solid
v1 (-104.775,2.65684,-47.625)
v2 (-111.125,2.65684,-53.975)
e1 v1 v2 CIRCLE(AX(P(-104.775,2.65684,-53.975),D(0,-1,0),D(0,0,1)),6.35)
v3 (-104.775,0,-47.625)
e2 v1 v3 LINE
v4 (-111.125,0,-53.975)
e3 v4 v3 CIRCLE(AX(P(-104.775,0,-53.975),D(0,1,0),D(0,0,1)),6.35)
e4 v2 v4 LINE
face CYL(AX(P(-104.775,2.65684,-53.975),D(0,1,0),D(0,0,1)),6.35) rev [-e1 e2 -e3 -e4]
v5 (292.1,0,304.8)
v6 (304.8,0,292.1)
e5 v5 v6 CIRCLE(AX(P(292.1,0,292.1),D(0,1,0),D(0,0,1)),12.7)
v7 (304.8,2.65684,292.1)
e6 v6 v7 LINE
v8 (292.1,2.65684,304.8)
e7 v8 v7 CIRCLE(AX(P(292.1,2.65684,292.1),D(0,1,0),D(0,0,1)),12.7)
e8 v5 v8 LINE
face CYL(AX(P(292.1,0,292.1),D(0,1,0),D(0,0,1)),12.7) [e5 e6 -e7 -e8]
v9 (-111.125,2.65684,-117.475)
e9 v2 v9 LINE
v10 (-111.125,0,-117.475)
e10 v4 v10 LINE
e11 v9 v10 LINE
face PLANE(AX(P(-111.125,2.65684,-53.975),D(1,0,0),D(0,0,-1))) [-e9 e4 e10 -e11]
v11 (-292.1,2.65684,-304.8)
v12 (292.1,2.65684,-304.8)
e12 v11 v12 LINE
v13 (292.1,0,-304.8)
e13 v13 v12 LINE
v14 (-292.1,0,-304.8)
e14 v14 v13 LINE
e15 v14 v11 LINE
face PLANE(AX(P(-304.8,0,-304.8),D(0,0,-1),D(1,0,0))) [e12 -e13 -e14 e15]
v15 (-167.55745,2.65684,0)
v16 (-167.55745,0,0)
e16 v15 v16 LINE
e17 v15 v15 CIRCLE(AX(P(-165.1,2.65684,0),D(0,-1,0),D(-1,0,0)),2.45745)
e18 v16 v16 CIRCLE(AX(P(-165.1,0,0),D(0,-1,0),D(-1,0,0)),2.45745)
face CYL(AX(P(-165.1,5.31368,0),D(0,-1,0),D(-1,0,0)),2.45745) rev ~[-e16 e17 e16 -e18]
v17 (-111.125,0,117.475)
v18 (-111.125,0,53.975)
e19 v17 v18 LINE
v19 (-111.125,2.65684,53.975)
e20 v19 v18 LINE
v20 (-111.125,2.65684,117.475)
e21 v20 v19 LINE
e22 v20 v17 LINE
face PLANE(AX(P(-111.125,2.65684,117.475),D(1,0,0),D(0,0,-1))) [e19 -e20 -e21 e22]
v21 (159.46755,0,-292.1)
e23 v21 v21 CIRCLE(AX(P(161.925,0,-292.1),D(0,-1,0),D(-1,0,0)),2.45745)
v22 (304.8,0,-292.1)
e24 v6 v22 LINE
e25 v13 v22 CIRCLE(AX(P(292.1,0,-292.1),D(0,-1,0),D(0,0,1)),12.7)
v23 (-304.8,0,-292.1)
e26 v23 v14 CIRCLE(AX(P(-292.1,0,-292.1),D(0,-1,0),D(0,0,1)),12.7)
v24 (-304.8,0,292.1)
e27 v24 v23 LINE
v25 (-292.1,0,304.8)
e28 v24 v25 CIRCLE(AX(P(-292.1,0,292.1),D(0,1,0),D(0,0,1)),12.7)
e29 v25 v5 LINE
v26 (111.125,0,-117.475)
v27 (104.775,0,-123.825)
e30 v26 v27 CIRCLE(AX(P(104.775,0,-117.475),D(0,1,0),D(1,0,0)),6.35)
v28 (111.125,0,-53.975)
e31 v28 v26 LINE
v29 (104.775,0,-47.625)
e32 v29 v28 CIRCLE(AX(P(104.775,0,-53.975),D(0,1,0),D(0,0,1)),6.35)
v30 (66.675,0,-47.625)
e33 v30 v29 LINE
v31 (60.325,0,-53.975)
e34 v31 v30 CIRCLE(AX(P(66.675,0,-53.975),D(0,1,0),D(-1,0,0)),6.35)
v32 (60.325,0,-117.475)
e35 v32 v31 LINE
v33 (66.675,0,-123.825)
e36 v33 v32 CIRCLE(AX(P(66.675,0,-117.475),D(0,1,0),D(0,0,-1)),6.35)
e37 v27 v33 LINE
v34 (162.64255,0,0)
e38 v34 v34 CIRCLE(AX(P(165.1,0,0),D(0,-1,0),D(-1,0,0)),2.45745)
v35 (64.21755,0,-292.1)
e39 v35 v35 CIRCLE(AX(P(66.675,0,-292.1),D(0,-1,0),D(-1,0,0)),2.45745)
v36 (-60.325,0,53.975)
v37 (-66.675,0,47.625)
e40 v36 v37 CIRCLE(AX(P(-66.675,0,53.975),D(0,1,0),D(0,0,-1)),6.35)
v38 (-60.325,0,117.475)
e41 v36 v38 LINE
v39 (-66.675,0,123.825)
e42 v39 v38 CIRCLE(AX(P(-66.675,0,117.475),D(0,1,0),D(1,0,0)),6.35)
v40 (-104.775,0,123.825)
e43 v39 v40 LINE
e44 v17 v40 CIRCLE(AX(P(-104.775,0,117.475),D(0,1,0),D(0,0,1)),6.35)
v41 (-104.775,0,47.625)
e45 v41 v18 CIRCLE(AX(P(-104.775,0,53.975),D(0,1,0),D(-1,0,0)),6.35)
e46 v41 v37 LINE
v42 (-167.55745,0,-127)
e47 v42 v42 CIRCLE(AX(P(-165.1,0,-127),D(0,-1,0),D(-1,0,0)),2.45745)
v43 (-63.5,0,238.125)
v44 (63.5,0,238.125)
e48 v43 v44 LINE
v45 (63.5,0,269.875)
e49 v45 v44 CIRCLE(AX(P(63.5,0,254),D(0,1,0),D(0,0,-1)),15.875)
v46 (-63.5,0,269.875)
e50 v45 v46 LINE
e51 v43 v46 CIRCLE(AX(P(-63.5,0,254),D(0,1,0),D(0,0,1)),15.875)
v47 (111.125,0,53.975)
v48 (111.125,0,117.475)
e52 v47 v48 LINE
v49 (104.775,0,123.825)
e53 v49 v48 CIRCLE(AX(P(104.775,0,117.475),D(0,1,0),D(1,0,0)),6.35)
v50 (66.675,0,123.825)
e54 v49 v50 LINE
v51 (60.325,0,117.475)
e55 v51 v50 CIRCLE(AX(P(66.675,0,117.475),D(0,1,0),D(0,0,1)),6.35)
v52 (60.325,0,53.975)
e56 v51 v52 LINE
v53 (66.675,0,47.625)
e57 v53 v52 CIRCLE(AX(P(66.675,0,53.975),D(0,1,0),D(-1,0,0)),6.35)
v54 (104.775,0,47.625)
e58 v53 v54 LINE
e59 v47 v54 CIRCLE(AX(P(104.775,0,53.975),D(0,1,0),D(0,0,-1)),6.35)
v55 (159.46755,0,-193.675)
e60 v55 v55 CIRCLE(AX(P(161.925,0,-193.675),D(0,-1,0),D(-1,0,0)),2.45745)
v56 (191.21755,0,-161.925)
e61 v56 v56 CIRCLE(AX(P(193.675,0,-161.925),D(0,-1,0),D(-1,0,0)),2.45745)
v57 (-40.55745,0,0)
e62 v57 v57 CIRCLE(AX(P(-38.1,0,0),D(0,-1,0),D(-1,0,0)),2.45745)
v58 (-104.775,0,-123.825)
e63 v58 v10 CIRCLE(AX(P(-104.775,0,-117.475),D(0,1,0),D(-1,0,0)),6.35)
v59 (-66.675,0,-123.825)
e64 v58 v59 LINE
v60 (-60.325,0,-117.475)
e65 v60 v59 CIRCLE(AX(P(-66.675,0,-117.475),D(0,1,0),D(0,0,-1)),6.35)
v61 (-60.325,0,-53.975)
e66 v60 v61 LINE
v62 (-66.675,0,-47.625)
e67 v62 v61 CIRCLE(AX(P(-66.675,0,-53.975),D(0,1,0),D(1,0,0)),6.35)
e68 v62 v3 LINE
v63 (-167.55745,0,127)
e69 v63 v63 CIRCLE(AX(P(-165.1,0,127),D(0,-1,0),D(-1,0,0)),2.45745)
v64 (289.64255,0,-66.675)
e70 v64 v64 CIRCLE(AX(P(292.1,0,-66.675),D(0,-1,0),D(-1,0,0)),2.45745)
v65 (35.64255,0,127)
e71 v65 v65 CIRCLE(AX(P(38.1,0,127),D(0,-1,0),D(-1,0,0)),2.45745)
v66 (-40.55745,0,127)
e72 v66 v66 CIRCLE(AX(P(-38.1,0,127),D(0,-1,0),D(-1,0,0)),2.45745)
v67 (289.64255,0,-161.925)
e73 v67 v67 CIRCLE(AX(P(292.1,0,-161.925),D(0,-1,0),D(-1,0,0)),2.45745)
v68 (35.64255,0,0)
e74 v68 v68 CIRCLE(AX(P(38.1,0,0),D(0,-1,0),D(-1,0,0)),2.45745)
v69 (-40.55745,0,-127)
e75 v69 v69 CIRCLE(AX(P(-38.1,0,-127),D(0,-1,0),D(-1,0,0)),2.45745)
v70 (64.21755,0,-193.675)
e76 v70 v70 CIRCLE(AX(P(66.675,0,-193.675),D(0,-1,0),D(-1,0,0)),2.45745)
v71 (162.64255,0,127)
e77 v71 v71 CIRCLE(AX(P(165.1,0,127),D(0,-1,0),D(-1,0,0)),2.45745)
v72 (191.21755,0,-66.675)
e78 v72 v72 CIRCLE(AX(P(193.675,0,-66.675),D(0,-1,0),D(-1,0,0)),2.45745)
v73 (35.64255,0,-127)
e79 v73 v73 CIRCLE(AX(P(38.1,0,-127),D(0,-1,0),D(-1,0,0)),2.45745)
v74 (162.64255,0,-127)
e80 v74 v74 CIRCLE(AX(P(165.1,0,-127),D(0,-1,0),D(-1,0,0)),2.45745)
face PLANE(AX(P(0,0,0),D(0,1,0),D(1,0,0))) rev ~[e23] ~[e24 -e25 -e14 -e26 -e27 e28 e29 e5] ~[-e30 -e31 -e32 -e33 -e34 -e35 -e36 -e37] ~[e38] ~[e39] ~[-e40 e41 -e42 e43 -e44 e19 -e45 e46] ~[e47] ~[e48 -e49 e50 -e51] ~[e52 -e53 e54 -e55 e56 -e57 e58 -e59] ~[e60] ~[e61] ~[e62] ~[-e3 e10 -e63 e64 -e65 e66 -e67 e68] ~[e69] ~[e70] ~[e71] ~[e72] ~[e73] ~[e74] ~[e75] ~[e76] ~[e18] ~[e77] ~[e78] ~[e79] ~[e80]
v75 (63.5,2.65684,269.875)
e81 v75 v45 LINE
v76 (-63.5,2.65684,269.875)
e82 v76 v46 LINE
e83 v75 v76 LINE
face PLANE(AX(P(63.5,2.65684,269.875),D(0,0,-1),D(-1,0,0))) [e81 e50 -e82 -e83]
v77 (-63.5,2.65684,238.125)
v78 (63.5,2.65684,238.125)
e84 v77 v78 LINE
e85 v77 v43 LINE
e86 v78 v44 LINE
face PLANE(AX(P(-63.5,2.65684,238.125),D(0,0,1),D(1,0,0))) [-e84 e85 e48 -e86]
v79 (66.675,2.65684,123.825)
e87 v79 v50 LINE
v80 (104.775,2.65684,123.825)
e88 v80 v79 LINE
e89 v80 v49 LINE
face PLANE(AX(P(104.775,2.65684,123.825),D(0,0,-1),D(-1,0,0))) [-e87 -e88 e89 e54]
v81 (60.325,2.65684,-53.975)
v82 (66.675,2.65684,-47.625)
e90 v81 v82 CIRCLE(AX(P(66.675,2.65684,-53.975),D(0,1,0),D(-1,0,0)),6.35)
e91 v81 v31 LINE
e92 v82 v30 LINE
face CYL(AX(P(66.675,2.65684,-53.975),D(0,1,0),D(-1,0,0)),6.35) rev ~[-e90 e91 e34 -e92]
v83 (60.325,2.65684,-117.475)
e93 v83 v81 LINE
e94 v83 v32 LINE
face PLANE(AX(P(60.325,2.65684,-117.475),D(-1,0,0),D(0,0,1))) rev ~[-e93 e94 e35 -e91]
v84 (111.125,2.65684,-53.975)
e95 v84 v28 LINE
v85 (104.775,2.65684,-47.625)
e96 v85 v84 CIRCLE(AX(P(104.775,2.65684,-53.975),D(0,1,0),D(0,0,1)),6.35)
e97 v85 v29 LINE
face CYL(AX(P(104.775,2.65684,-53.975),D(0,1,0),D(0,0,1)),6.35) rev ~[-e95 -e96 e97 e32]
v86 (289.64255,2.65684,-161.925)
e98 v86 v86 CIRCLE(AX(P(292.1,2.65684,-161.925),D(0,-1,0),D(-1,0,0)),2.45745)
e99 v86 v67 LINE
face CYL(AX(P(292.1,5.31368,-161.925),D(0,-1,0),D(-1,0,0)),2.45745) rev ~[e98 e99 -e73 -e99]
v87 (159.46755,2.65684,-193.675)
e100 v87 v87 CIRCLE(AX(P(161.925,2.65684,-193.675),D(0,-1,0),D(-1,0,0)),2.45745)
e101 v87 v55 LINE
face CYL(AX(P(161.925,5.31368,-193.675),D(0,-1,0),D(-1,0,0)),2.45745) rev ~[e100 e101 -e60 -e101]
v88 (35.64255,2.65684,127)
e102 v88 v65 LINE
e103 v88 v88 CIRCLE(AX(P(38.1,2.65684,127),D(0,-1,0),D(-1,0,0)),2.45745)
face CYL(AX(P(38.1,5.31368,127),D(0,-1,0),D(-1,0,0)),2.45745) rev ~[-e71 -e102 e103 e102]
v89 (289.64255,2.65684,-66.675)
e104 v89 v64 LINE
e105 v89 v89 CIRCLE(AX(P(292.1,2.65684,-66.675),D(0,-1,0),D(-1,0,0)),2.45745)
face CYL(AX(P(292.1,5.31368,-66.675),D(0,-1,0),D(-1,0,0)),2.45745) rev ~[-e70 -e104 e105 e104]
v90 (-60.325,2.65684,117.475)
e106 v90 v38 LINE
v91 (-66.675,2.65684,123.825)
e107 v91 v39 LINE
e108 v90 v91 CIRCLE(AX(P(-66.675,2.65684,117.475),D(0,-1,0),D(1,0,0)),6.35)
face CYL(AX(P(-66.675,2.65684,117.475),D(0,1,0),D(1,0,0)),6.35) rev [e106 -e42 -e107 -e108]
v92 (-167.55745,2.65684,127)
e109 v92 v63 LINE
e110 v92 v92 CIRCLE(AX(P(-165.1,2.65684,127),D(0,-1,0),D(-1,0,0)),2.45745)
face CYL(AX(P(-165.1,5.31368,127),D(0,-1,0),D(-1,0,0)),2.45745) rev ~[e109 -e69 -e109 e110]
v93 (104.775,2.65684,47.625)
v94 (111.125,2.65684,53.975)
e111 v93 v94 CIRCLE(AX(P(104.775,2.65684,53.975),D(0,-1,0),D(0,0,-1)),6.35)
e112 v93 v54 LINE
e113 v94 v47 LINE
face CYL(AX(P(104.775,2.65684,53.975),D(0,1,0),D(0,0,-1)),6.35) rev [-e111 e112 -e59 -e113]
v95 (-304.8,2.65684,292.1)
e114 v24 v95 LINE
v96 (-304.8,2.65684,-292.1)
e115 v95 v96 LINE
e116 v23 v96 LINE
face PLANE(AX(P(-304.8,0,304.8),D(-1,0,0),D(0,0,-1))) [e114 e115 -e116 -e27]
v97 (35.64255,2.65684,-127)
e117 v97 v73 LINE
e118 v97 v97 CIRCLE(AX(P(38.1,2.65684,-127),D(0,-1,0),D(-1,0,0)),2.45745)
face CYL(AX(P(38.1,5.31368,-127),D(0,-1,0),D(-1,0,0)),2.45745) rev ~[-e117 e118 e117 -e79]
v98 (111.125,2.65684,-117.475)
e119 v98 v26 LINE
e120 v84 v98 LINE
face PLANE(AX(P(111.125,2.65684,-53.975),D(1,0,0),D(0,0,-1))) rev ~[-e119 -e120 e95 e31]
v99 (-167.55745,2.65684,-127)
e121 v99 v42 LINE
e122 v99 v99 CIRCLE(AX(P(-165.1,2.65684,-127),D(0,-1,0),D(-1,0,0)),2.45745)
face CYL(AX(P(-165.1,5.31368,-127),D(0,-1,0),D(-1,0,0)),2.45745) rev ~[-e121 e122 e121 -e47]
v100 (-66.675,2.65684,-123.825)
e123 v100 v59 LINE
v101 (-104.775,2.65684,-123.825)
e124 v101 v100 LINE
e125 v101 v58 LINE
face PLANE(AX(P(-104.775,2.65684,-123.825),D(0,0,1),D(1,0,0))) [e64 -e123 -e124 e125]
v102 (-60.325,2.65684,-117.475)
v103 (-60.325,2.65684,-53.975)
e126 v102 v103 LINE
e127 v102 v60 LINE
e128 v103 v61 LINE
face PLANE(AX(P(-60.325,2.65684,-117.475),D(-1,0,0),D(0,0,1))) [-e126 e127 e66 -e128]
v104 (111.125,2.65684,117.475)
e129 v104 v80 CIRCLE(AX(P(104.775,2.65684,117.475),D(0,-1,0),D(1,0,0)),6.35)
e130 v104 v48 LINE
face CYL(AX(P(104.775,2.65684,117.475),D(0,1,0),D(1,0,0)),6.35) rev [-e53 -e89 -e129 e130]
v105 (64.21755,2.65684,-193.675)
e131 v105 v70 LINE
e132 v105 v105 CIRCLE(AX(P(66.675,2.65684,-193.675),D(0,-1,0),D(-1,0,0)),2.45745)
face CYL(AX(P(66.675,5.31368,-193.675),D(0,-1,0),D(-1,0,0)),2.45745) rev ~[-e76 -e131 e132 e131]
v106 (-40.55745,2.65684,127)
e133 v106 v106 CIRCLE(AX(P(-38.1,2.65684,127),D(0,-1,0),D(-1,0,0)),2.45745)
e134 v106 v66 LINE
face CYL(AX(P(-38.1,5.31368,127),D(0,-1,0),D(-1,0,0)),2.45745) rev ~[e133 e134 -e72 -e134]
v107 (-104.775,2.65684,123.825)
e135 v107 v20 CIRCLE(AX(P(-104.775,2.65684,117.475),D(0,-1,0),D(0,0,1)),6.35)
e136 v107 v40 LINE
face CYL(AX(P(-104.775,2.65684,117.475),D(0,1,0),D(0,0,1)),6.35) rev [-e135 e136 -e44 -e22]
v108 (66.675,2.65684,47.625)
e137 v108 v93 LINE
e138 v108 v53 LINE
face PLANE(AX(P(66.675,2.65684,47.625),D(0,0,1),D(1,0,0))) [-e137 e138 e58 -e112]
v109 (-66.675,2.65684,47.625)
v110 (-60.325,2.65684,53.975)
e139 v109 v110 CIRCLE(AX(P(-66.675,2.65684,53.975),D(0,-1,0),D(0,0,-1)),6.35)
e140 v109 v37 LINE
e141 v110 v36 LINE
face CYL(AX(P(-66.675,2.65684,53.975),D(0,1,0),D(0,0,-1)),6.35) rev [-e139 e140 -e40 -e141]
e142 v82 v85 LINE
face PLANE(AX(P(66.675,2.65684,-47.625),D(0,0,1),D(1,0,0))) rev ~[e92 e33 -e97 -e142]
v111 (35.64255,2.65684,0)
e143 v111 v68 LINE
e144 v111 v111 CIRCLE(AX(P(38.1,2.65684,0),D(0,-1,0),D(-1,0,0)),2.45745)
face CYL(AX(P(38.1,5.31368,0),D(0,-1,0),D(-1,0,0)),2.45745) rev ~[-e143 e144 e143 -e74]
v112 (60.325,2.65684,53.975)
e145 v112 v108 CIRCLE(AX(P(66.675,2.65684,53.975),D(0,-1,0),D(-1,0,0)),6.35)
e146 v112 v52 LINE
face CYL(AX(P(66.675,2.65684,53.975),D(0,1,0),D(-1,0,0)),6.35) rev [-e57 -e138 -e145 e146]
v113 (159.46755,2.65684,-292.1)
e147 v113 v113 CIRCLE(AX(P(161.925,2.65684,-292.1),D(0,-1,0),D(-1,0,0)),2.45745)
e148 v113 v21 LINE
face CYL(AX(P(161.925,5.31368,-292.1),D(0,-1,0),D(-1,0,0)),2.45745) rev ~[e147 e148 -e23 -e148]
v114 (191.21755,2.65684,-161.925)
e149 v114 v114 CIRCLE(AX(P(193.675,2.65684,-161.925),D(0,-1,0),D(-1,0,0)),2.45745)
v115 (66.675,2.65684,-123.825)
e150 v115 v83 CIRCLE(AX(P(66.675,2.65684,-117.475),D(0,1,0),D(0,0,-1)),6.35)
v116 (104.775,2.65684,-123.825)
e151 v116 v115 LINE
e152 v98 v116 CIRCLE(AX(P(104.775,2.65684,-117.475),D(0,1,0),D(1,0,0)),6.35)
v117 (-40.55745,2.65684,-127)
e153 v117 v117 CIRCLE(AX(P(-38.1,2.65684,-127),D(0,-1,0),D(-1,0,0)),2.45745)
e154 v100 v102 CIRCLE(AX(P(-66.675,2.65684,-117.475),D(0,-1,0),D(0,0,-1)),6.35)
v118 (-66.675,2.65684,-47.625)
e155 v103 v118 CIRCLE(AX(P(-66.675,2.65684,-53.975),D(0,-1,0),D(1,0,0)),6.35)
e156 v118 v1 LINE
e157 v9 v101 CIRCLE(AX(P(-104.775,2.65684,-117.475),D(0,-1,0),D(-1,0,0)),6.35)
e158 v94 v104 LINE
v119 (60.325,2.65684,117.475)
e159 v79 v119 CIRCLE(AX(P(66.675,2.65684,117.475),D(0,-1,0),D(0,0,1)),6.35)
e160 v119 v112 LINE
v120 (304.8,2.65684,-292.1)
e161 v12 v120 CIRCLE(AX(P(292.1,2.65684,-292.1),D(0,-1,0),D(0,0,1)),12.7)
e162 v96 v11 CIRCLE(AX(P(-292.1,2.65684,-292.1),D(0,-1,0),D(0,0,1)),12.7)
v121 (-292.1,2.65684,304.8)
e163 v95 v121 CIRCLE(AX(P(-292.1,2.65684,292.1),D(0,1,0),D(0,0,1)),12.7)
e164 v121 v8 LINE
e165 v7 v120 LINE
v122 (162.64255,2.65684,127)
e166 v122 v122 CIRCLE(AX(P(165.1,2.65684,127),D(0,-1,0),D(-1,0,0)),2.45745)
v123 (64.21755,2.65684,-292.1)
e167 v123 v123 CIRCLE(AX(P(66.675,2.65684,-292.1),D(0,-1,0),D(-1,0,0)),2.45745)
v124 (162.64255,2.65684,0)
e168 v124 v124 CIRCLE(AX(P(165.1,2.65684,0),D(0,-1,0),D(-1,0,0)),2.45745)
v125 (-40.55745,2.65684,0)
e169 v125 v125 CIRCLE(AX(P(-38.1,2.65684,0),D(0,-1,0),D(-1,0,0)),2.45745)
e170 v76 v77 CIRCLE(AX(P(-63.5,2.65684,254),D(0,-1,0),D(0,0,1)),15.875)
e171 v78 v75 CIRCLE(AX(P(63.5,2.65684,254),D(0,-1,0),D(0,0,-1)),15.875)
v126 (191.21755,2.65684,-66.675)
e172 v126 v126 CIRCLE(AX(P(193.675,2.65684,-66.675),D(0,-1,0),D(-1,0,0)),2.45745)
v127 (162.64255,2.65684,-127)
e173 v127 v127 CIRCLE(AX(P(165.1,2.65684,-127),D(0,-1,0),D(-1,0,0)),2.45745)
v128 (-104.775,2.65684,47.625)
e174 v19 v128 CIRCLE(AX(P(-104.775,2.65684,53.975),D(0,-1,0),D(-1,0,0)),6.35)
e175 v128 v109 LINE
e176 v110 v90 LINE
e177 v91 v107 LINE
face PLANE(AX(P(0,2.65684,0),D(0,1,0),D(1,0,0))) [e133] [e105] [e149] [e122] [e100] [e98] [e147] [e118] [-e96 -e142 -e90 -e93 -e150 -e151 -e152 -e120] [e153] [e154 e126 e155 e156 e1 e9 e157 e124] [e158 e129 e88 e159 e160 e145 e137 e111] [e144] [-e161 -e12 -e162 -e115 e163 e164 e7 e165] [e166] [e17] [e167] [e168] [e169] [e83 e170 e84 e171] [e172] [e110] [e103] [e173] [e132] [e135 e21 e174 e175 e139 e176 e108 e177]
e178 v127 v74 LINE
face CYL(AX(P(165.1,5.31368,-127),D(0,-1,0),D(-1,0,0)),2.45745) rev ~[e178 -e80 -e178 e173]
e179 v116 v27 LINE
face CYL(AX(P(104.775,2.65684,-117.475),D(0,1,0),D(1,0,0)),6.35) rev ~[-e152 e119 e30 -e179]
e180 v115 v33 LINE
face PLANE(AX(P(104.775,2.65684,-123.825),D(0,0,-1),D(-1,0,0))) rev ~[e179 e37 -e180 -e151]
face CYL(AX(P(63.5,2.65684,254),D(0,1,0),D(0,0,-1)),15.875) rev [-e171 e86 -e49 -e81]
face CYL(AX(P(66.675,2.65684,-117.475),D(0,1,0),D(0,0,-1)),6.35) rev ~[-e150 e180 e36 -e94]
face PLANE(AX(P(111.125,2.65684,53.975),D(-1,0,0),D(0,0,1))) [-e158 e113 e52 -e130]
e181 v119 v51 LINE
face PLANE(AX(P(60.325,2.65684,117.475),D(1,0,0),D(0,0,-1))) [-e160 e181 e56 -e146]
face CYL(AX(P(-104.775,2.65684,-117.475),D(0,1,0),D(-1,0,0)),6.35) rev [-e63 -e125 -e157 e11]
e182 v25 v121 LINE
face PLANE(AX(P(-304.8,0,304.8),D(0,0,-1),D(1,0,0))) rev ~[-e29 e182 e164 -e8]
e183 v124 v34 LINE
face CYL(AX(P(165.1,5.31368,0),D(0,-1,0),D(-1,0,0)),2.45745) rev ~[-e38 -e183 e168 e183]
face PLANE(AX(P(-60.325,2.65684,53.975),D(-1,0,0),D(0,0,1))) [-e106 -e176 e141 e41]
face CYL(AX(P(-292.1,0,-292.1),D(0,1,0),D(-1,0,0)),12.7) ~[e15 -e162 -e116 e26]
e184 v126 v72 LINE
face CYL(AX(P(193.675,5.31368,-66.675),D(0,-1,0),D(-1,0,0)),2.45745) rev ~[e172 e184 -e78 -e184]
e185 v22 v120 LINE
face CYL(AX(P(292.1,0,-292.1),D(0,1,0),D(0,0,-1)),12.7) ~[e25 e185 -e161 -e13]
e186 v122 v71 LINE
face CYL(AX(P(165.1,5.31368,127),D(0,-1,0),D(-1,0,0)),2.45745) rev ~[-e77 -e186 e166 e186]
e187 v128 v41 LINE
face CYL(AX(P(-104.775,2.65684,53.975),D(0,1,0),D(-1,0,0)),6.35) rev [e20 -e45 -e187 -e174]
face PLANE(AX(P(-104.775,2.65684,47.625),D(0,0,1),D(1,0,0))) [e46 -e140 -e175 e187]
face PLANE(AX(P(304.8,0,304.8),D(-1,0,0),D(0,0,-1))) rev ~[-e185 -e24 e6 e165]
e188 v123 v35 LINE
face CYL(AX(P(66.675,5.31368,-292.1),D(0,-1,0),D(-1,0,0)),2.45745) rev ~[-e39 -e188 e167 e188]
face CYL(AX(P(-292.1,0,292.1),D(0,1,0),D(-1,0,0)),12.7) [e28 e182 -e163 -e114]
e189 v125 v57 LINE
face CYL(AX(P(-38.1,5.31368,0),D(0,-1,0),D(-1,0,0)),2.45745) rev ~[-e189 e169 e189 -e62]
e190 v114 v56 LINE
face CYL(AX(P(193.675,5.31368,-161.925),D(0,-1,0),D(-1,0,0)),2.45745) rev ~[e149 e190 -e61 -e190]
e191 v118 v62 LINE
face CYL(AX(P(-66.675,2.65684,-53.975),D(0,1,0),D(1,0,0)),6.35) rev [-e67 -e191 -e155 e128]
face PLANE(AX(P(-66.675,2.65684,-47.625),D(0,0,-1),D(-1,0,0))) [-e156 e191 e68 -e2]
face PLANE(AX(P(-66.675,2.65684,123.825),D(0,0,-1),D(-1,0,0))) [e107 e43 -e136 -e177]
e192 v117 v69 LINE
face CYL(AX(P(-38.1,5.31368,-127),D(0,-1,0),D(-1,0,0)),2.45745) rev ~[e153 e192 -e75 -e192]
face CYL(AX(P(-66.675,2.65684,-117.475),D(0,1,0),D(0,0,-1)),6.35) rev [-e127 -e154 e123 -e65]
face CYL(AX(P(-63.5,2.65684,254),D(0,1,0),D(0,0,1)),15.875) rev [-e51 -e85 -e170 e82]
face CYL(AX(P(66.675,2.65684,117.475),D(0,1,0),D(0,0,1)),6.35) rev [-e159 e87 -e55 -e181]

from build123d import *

# Parameters (mm, degrees)
SKETCH1_W                        = 609.6
SKETCH1_H                        = 609.6
BOSS_EXTRUDE1_DEPTH              = 2.65684
CUT_EXTRUDE1_DEPTH               = 3.65684
SKETCH3_R                        = 2.3876
CUT_EXTRUDE2_DEPTH               = 3.65684
LPATTERN1_COUNT                  = 2
LPATTERN1_PITCH                  = 203.2
CUT_EXTRUDE3_DEPTH               = 3.65684
FILLET1_R                        = 12.7
SKETCH5_R                        = 2.3876
CUT_EXTRUDE4_DEPTH               = 3.65684
F_10_0_1935_DIAMETER_HOLE1_D     = 4.9149
F_10_0_1935_DIAMETER_HOLE1_DEPTH = 2.65684


with BuildPart() as part:
    # Sketch1 → Boss-Extrude1 (new body)
    with BuildSketch(Plane(origin=(0, 0, 0), x_dir=(1, 0, 0), z_dir=(0, 1, 0))):
        Rectangle(SKETCH1_W, SKETCH1_H)
    extrude(amount=BOSS_EXTRUDE1_DEPTH)

    # Sketch2 → Cut-Extrude1 (cut, through all)
    with BuildSketch(Plane(origin=(0, 2.65684, 0), x_dir=(1, 0, 0), z_dir=(0, 1, 0))):
        with BuildLine():
            Line((-104.775, 123.825), (-66.675, 123.825))
            ThreePointArc((-66.675, 123.825), (-62.184871939, 121.965128061), (-60.325, 117.475))
            Line((-60.325, 117.475), (-60.325, 53.975))
            ThreePointArc((-60.325, 53.975), (-62.184871939, 49.484871939), (-66.675, 47.625))
            Line((-66.675, 47.625), (-104.775, 47.625))
            ThreePointArc((-104.775, 47.625), (-109.265128061, 49.484871939), (-111.125, 53.975))
            Line((-111.125, 53.975), (-111.125, 117.475))
            ThreePointArc((-111.125, 117.475), (-109.265128061, 121.965128061), (-104.775, 123.825))
        make_face()
        with BuildLine():
            Line((-104.775, -47.625), (-66.675, -47.625))
            ThreePointArc((-66.675, -47.625), (-62.184871939, -49.484871939), (-60.325, -53.975))
            Line((-60.325, -53.975), (-60.325, -117.475))
            ThreePointArc((-60.325, -117.475), (-62.184871939, -121.965128061), (-66.675, -123.825))
            Line((-66.675, -123.825), (-104.775, -123.825))
            ThreePointArc((-104.775, -123.825), (-109.265128061, -121.965128061), (-111.125, -117.475))
            Line((-111.125, -117.475), (-111.125, -53.975))
            ThreePointArc((-111.125, -53.975), (-109.265128061, -49.484871939), (-104.775, -47.625))
        make_face()
        with BuildLine():
            Line((66.675, -47.625), (104.775, -47.625))
            ThreePointArc((104.775, -47.625), (109.265128061, -49.484871939), (111.125, -53.975))
            Line((111.125, -53.975), (111.125, -117.475))
            ThreePointArc((111.125, -117.475), (109.265128061, -121.965128061), (104.775, -123.825))
            Line((104.775, -123.825), (66.675, -123.825))
            ThreePointArc((66.675, -123.825), (62.184871939, -121.965128061), (60.325, -117.475))
            Line((60.325, -117.475), (60.325, -53.975))
            ThreePointArc((60.325, -53.975), (62.184871939, -49.484871939), (66.675, -47.625))
        make_face()
        with BuildLine():
            Line((104.775, 123.825), (66.675, 123.825))
            ThreePointArc((66.675, 123.825), (62.184871939, 121.965128061), (60.325, 117.475))
            Line((60.325, 117.475), (60.325, 53.975))
            ThreePointArc((60.325, 53.975), (62.184871939, 49.484871939), (66.675, 47.625))
            Line((66.675, 47.625), (104.775, 47.625))
            ThreePointArc((104.775, 47.625), (109.265128061, 49.484871939), (111.125, 53.975))
            Line((111.125, 53.975), (111.125, 117.475))
            ThreePointArc((111.125, 117.475), (109.265128061, 121.965128061), (104.775, 123.825))
        make_face()
    extrude(amount=-CUT_EXTRUDE1_DEPTH, mode=Mode.SUBTRACT)

    # Sketch3 → Cut-Extrude2 (cut, through all)
    with BuildSketch(Plane(origin=(0, 2.65684, 0), x_dir=(1, 0, 0), z_dir=(0, 1, 0))):
        with Locations((-165.1, 127)):
            Circle(SKETCH3_R)
        with Locations((-165.1, 0)):
            Circle(SKETCH3_R)
        with Locations((-165.1, -127)):
            Circle(SKETCH3_R)
        with Locations((-38.1, 127)):
            Circle(SKETCH3_R)
        with Locations((-38.1, 0)):
            Circle(SKETCH3_R)
        with Locations((-38.1, -127)):
            Circle(SKETCH3_R)
    cut_extrude2 = extrude(amount=-CUT_EXTRUDE2_DEPTH, mode=Mode.SUBTRACT)

    # LPattern1: Cut-Extrude2 ×2
    with Locations(*[(i * LPATTERN1_PITCH, 0, 0) for i in range(1, LPATTERN1_COUNT)]):
        add(cut_extrude2, mode=Mode.SUBTRACT)

    # Sketch4 → Cut-Extrude3 (cut, through all)
    with BuildSketch(Plane(origin=(0, 2.65684, 0), x_dir=(1, 0, 0), z_dir=(0, 1, 0))):
        with BuildLine():
            Line((-63.5, -238.125), (63.5, -238.125))
            ThreePointArc((63.5, -238.125), (79.375, -254), (63.5, -269.875))
            Line((63.5, -269.875), (-63.5, -269.875))
            ThreePointArc((-63.5, -269.875), (-79.375, -254), (-63.5, -238.125))
        make_face()
    extrude(amount=-CUT_EXTRUDE3_DEPTH, mode=Mode.SUBTRACT)

    # Fillet1
    fillet1_edges = [part.edges().sort_by_distance(p)[0] for p in [
        (304.8, 1.32842, 304.8),
        (-304.8, 1.32842, 304.8),
        (-304.8, 1.32842, -304.8),
        (304.8, 1.32842, -304.8),
    ]]
    fillet(fillet1_edges, radius=FILLET1_R)

    # Sketch5 → Cut-Extrude4 (cut, through all)
    with BuildSketch(Plane(origin=(0, 2.65684, 0), x_dir=(1, 0, 0), z_dir=(0, 1, 0))):
        with Locations((161.925, 292.1)):
            Circle(SKETCH5_R)
        with Locations((66.675, 292.1)):
            Circle(SKETCH5_R)
        with Locations((161.925, 193.675)):
            Circle(SKETCH5_R)
        with Locations((66.675, 193.675)):
            Circle(SKETCH5_R)
        with Locations((193.675, 161.925)):
            Circle(SKETCH5_R)
        with Locations((193.675, 66.675)):
            Circle(SKETCH5_R)
        with Locations((292.1, 66.675)):
            Circle(SKETCH5_R)
        with Locations((292.1, 161.925)):
            Circle(SKETCH5_R)
    extrude(amount=-CUT_EXTRUDE4_DEPTH, mode=Mode.SUBTRACT)

    # #10 (0.1935) Diameter Hole1
    with Locations(Plane(origin=(0, 2.65684, 0), x_dir=(1, 0, 0), z_dir=(0, 1, 0))):
        with Locations((161.925, 292.1), (66.675, 292.1), (292.1, 161.925), (193.675, 161.925), (161.925, 193.675), (66.675, 193.675), (165.1, 127), (38.1, 127), (-38.1, 127), (292.1, 66.675), (193.675, 66.675), (165.1, 0), (165.1, -127), (-38.1, 0), (38.1, 0), (38.1, -127), (-38.1, -127), (-165.1, -127), (-165.1, 0), (-165.1, 127)):
            Hole(F_10_0_1935_DIAMETER_HOLE1_D / 2, depth=F_10_0_1935_DIAMETER_HOLE1_DEPTH)


solid = part.part
